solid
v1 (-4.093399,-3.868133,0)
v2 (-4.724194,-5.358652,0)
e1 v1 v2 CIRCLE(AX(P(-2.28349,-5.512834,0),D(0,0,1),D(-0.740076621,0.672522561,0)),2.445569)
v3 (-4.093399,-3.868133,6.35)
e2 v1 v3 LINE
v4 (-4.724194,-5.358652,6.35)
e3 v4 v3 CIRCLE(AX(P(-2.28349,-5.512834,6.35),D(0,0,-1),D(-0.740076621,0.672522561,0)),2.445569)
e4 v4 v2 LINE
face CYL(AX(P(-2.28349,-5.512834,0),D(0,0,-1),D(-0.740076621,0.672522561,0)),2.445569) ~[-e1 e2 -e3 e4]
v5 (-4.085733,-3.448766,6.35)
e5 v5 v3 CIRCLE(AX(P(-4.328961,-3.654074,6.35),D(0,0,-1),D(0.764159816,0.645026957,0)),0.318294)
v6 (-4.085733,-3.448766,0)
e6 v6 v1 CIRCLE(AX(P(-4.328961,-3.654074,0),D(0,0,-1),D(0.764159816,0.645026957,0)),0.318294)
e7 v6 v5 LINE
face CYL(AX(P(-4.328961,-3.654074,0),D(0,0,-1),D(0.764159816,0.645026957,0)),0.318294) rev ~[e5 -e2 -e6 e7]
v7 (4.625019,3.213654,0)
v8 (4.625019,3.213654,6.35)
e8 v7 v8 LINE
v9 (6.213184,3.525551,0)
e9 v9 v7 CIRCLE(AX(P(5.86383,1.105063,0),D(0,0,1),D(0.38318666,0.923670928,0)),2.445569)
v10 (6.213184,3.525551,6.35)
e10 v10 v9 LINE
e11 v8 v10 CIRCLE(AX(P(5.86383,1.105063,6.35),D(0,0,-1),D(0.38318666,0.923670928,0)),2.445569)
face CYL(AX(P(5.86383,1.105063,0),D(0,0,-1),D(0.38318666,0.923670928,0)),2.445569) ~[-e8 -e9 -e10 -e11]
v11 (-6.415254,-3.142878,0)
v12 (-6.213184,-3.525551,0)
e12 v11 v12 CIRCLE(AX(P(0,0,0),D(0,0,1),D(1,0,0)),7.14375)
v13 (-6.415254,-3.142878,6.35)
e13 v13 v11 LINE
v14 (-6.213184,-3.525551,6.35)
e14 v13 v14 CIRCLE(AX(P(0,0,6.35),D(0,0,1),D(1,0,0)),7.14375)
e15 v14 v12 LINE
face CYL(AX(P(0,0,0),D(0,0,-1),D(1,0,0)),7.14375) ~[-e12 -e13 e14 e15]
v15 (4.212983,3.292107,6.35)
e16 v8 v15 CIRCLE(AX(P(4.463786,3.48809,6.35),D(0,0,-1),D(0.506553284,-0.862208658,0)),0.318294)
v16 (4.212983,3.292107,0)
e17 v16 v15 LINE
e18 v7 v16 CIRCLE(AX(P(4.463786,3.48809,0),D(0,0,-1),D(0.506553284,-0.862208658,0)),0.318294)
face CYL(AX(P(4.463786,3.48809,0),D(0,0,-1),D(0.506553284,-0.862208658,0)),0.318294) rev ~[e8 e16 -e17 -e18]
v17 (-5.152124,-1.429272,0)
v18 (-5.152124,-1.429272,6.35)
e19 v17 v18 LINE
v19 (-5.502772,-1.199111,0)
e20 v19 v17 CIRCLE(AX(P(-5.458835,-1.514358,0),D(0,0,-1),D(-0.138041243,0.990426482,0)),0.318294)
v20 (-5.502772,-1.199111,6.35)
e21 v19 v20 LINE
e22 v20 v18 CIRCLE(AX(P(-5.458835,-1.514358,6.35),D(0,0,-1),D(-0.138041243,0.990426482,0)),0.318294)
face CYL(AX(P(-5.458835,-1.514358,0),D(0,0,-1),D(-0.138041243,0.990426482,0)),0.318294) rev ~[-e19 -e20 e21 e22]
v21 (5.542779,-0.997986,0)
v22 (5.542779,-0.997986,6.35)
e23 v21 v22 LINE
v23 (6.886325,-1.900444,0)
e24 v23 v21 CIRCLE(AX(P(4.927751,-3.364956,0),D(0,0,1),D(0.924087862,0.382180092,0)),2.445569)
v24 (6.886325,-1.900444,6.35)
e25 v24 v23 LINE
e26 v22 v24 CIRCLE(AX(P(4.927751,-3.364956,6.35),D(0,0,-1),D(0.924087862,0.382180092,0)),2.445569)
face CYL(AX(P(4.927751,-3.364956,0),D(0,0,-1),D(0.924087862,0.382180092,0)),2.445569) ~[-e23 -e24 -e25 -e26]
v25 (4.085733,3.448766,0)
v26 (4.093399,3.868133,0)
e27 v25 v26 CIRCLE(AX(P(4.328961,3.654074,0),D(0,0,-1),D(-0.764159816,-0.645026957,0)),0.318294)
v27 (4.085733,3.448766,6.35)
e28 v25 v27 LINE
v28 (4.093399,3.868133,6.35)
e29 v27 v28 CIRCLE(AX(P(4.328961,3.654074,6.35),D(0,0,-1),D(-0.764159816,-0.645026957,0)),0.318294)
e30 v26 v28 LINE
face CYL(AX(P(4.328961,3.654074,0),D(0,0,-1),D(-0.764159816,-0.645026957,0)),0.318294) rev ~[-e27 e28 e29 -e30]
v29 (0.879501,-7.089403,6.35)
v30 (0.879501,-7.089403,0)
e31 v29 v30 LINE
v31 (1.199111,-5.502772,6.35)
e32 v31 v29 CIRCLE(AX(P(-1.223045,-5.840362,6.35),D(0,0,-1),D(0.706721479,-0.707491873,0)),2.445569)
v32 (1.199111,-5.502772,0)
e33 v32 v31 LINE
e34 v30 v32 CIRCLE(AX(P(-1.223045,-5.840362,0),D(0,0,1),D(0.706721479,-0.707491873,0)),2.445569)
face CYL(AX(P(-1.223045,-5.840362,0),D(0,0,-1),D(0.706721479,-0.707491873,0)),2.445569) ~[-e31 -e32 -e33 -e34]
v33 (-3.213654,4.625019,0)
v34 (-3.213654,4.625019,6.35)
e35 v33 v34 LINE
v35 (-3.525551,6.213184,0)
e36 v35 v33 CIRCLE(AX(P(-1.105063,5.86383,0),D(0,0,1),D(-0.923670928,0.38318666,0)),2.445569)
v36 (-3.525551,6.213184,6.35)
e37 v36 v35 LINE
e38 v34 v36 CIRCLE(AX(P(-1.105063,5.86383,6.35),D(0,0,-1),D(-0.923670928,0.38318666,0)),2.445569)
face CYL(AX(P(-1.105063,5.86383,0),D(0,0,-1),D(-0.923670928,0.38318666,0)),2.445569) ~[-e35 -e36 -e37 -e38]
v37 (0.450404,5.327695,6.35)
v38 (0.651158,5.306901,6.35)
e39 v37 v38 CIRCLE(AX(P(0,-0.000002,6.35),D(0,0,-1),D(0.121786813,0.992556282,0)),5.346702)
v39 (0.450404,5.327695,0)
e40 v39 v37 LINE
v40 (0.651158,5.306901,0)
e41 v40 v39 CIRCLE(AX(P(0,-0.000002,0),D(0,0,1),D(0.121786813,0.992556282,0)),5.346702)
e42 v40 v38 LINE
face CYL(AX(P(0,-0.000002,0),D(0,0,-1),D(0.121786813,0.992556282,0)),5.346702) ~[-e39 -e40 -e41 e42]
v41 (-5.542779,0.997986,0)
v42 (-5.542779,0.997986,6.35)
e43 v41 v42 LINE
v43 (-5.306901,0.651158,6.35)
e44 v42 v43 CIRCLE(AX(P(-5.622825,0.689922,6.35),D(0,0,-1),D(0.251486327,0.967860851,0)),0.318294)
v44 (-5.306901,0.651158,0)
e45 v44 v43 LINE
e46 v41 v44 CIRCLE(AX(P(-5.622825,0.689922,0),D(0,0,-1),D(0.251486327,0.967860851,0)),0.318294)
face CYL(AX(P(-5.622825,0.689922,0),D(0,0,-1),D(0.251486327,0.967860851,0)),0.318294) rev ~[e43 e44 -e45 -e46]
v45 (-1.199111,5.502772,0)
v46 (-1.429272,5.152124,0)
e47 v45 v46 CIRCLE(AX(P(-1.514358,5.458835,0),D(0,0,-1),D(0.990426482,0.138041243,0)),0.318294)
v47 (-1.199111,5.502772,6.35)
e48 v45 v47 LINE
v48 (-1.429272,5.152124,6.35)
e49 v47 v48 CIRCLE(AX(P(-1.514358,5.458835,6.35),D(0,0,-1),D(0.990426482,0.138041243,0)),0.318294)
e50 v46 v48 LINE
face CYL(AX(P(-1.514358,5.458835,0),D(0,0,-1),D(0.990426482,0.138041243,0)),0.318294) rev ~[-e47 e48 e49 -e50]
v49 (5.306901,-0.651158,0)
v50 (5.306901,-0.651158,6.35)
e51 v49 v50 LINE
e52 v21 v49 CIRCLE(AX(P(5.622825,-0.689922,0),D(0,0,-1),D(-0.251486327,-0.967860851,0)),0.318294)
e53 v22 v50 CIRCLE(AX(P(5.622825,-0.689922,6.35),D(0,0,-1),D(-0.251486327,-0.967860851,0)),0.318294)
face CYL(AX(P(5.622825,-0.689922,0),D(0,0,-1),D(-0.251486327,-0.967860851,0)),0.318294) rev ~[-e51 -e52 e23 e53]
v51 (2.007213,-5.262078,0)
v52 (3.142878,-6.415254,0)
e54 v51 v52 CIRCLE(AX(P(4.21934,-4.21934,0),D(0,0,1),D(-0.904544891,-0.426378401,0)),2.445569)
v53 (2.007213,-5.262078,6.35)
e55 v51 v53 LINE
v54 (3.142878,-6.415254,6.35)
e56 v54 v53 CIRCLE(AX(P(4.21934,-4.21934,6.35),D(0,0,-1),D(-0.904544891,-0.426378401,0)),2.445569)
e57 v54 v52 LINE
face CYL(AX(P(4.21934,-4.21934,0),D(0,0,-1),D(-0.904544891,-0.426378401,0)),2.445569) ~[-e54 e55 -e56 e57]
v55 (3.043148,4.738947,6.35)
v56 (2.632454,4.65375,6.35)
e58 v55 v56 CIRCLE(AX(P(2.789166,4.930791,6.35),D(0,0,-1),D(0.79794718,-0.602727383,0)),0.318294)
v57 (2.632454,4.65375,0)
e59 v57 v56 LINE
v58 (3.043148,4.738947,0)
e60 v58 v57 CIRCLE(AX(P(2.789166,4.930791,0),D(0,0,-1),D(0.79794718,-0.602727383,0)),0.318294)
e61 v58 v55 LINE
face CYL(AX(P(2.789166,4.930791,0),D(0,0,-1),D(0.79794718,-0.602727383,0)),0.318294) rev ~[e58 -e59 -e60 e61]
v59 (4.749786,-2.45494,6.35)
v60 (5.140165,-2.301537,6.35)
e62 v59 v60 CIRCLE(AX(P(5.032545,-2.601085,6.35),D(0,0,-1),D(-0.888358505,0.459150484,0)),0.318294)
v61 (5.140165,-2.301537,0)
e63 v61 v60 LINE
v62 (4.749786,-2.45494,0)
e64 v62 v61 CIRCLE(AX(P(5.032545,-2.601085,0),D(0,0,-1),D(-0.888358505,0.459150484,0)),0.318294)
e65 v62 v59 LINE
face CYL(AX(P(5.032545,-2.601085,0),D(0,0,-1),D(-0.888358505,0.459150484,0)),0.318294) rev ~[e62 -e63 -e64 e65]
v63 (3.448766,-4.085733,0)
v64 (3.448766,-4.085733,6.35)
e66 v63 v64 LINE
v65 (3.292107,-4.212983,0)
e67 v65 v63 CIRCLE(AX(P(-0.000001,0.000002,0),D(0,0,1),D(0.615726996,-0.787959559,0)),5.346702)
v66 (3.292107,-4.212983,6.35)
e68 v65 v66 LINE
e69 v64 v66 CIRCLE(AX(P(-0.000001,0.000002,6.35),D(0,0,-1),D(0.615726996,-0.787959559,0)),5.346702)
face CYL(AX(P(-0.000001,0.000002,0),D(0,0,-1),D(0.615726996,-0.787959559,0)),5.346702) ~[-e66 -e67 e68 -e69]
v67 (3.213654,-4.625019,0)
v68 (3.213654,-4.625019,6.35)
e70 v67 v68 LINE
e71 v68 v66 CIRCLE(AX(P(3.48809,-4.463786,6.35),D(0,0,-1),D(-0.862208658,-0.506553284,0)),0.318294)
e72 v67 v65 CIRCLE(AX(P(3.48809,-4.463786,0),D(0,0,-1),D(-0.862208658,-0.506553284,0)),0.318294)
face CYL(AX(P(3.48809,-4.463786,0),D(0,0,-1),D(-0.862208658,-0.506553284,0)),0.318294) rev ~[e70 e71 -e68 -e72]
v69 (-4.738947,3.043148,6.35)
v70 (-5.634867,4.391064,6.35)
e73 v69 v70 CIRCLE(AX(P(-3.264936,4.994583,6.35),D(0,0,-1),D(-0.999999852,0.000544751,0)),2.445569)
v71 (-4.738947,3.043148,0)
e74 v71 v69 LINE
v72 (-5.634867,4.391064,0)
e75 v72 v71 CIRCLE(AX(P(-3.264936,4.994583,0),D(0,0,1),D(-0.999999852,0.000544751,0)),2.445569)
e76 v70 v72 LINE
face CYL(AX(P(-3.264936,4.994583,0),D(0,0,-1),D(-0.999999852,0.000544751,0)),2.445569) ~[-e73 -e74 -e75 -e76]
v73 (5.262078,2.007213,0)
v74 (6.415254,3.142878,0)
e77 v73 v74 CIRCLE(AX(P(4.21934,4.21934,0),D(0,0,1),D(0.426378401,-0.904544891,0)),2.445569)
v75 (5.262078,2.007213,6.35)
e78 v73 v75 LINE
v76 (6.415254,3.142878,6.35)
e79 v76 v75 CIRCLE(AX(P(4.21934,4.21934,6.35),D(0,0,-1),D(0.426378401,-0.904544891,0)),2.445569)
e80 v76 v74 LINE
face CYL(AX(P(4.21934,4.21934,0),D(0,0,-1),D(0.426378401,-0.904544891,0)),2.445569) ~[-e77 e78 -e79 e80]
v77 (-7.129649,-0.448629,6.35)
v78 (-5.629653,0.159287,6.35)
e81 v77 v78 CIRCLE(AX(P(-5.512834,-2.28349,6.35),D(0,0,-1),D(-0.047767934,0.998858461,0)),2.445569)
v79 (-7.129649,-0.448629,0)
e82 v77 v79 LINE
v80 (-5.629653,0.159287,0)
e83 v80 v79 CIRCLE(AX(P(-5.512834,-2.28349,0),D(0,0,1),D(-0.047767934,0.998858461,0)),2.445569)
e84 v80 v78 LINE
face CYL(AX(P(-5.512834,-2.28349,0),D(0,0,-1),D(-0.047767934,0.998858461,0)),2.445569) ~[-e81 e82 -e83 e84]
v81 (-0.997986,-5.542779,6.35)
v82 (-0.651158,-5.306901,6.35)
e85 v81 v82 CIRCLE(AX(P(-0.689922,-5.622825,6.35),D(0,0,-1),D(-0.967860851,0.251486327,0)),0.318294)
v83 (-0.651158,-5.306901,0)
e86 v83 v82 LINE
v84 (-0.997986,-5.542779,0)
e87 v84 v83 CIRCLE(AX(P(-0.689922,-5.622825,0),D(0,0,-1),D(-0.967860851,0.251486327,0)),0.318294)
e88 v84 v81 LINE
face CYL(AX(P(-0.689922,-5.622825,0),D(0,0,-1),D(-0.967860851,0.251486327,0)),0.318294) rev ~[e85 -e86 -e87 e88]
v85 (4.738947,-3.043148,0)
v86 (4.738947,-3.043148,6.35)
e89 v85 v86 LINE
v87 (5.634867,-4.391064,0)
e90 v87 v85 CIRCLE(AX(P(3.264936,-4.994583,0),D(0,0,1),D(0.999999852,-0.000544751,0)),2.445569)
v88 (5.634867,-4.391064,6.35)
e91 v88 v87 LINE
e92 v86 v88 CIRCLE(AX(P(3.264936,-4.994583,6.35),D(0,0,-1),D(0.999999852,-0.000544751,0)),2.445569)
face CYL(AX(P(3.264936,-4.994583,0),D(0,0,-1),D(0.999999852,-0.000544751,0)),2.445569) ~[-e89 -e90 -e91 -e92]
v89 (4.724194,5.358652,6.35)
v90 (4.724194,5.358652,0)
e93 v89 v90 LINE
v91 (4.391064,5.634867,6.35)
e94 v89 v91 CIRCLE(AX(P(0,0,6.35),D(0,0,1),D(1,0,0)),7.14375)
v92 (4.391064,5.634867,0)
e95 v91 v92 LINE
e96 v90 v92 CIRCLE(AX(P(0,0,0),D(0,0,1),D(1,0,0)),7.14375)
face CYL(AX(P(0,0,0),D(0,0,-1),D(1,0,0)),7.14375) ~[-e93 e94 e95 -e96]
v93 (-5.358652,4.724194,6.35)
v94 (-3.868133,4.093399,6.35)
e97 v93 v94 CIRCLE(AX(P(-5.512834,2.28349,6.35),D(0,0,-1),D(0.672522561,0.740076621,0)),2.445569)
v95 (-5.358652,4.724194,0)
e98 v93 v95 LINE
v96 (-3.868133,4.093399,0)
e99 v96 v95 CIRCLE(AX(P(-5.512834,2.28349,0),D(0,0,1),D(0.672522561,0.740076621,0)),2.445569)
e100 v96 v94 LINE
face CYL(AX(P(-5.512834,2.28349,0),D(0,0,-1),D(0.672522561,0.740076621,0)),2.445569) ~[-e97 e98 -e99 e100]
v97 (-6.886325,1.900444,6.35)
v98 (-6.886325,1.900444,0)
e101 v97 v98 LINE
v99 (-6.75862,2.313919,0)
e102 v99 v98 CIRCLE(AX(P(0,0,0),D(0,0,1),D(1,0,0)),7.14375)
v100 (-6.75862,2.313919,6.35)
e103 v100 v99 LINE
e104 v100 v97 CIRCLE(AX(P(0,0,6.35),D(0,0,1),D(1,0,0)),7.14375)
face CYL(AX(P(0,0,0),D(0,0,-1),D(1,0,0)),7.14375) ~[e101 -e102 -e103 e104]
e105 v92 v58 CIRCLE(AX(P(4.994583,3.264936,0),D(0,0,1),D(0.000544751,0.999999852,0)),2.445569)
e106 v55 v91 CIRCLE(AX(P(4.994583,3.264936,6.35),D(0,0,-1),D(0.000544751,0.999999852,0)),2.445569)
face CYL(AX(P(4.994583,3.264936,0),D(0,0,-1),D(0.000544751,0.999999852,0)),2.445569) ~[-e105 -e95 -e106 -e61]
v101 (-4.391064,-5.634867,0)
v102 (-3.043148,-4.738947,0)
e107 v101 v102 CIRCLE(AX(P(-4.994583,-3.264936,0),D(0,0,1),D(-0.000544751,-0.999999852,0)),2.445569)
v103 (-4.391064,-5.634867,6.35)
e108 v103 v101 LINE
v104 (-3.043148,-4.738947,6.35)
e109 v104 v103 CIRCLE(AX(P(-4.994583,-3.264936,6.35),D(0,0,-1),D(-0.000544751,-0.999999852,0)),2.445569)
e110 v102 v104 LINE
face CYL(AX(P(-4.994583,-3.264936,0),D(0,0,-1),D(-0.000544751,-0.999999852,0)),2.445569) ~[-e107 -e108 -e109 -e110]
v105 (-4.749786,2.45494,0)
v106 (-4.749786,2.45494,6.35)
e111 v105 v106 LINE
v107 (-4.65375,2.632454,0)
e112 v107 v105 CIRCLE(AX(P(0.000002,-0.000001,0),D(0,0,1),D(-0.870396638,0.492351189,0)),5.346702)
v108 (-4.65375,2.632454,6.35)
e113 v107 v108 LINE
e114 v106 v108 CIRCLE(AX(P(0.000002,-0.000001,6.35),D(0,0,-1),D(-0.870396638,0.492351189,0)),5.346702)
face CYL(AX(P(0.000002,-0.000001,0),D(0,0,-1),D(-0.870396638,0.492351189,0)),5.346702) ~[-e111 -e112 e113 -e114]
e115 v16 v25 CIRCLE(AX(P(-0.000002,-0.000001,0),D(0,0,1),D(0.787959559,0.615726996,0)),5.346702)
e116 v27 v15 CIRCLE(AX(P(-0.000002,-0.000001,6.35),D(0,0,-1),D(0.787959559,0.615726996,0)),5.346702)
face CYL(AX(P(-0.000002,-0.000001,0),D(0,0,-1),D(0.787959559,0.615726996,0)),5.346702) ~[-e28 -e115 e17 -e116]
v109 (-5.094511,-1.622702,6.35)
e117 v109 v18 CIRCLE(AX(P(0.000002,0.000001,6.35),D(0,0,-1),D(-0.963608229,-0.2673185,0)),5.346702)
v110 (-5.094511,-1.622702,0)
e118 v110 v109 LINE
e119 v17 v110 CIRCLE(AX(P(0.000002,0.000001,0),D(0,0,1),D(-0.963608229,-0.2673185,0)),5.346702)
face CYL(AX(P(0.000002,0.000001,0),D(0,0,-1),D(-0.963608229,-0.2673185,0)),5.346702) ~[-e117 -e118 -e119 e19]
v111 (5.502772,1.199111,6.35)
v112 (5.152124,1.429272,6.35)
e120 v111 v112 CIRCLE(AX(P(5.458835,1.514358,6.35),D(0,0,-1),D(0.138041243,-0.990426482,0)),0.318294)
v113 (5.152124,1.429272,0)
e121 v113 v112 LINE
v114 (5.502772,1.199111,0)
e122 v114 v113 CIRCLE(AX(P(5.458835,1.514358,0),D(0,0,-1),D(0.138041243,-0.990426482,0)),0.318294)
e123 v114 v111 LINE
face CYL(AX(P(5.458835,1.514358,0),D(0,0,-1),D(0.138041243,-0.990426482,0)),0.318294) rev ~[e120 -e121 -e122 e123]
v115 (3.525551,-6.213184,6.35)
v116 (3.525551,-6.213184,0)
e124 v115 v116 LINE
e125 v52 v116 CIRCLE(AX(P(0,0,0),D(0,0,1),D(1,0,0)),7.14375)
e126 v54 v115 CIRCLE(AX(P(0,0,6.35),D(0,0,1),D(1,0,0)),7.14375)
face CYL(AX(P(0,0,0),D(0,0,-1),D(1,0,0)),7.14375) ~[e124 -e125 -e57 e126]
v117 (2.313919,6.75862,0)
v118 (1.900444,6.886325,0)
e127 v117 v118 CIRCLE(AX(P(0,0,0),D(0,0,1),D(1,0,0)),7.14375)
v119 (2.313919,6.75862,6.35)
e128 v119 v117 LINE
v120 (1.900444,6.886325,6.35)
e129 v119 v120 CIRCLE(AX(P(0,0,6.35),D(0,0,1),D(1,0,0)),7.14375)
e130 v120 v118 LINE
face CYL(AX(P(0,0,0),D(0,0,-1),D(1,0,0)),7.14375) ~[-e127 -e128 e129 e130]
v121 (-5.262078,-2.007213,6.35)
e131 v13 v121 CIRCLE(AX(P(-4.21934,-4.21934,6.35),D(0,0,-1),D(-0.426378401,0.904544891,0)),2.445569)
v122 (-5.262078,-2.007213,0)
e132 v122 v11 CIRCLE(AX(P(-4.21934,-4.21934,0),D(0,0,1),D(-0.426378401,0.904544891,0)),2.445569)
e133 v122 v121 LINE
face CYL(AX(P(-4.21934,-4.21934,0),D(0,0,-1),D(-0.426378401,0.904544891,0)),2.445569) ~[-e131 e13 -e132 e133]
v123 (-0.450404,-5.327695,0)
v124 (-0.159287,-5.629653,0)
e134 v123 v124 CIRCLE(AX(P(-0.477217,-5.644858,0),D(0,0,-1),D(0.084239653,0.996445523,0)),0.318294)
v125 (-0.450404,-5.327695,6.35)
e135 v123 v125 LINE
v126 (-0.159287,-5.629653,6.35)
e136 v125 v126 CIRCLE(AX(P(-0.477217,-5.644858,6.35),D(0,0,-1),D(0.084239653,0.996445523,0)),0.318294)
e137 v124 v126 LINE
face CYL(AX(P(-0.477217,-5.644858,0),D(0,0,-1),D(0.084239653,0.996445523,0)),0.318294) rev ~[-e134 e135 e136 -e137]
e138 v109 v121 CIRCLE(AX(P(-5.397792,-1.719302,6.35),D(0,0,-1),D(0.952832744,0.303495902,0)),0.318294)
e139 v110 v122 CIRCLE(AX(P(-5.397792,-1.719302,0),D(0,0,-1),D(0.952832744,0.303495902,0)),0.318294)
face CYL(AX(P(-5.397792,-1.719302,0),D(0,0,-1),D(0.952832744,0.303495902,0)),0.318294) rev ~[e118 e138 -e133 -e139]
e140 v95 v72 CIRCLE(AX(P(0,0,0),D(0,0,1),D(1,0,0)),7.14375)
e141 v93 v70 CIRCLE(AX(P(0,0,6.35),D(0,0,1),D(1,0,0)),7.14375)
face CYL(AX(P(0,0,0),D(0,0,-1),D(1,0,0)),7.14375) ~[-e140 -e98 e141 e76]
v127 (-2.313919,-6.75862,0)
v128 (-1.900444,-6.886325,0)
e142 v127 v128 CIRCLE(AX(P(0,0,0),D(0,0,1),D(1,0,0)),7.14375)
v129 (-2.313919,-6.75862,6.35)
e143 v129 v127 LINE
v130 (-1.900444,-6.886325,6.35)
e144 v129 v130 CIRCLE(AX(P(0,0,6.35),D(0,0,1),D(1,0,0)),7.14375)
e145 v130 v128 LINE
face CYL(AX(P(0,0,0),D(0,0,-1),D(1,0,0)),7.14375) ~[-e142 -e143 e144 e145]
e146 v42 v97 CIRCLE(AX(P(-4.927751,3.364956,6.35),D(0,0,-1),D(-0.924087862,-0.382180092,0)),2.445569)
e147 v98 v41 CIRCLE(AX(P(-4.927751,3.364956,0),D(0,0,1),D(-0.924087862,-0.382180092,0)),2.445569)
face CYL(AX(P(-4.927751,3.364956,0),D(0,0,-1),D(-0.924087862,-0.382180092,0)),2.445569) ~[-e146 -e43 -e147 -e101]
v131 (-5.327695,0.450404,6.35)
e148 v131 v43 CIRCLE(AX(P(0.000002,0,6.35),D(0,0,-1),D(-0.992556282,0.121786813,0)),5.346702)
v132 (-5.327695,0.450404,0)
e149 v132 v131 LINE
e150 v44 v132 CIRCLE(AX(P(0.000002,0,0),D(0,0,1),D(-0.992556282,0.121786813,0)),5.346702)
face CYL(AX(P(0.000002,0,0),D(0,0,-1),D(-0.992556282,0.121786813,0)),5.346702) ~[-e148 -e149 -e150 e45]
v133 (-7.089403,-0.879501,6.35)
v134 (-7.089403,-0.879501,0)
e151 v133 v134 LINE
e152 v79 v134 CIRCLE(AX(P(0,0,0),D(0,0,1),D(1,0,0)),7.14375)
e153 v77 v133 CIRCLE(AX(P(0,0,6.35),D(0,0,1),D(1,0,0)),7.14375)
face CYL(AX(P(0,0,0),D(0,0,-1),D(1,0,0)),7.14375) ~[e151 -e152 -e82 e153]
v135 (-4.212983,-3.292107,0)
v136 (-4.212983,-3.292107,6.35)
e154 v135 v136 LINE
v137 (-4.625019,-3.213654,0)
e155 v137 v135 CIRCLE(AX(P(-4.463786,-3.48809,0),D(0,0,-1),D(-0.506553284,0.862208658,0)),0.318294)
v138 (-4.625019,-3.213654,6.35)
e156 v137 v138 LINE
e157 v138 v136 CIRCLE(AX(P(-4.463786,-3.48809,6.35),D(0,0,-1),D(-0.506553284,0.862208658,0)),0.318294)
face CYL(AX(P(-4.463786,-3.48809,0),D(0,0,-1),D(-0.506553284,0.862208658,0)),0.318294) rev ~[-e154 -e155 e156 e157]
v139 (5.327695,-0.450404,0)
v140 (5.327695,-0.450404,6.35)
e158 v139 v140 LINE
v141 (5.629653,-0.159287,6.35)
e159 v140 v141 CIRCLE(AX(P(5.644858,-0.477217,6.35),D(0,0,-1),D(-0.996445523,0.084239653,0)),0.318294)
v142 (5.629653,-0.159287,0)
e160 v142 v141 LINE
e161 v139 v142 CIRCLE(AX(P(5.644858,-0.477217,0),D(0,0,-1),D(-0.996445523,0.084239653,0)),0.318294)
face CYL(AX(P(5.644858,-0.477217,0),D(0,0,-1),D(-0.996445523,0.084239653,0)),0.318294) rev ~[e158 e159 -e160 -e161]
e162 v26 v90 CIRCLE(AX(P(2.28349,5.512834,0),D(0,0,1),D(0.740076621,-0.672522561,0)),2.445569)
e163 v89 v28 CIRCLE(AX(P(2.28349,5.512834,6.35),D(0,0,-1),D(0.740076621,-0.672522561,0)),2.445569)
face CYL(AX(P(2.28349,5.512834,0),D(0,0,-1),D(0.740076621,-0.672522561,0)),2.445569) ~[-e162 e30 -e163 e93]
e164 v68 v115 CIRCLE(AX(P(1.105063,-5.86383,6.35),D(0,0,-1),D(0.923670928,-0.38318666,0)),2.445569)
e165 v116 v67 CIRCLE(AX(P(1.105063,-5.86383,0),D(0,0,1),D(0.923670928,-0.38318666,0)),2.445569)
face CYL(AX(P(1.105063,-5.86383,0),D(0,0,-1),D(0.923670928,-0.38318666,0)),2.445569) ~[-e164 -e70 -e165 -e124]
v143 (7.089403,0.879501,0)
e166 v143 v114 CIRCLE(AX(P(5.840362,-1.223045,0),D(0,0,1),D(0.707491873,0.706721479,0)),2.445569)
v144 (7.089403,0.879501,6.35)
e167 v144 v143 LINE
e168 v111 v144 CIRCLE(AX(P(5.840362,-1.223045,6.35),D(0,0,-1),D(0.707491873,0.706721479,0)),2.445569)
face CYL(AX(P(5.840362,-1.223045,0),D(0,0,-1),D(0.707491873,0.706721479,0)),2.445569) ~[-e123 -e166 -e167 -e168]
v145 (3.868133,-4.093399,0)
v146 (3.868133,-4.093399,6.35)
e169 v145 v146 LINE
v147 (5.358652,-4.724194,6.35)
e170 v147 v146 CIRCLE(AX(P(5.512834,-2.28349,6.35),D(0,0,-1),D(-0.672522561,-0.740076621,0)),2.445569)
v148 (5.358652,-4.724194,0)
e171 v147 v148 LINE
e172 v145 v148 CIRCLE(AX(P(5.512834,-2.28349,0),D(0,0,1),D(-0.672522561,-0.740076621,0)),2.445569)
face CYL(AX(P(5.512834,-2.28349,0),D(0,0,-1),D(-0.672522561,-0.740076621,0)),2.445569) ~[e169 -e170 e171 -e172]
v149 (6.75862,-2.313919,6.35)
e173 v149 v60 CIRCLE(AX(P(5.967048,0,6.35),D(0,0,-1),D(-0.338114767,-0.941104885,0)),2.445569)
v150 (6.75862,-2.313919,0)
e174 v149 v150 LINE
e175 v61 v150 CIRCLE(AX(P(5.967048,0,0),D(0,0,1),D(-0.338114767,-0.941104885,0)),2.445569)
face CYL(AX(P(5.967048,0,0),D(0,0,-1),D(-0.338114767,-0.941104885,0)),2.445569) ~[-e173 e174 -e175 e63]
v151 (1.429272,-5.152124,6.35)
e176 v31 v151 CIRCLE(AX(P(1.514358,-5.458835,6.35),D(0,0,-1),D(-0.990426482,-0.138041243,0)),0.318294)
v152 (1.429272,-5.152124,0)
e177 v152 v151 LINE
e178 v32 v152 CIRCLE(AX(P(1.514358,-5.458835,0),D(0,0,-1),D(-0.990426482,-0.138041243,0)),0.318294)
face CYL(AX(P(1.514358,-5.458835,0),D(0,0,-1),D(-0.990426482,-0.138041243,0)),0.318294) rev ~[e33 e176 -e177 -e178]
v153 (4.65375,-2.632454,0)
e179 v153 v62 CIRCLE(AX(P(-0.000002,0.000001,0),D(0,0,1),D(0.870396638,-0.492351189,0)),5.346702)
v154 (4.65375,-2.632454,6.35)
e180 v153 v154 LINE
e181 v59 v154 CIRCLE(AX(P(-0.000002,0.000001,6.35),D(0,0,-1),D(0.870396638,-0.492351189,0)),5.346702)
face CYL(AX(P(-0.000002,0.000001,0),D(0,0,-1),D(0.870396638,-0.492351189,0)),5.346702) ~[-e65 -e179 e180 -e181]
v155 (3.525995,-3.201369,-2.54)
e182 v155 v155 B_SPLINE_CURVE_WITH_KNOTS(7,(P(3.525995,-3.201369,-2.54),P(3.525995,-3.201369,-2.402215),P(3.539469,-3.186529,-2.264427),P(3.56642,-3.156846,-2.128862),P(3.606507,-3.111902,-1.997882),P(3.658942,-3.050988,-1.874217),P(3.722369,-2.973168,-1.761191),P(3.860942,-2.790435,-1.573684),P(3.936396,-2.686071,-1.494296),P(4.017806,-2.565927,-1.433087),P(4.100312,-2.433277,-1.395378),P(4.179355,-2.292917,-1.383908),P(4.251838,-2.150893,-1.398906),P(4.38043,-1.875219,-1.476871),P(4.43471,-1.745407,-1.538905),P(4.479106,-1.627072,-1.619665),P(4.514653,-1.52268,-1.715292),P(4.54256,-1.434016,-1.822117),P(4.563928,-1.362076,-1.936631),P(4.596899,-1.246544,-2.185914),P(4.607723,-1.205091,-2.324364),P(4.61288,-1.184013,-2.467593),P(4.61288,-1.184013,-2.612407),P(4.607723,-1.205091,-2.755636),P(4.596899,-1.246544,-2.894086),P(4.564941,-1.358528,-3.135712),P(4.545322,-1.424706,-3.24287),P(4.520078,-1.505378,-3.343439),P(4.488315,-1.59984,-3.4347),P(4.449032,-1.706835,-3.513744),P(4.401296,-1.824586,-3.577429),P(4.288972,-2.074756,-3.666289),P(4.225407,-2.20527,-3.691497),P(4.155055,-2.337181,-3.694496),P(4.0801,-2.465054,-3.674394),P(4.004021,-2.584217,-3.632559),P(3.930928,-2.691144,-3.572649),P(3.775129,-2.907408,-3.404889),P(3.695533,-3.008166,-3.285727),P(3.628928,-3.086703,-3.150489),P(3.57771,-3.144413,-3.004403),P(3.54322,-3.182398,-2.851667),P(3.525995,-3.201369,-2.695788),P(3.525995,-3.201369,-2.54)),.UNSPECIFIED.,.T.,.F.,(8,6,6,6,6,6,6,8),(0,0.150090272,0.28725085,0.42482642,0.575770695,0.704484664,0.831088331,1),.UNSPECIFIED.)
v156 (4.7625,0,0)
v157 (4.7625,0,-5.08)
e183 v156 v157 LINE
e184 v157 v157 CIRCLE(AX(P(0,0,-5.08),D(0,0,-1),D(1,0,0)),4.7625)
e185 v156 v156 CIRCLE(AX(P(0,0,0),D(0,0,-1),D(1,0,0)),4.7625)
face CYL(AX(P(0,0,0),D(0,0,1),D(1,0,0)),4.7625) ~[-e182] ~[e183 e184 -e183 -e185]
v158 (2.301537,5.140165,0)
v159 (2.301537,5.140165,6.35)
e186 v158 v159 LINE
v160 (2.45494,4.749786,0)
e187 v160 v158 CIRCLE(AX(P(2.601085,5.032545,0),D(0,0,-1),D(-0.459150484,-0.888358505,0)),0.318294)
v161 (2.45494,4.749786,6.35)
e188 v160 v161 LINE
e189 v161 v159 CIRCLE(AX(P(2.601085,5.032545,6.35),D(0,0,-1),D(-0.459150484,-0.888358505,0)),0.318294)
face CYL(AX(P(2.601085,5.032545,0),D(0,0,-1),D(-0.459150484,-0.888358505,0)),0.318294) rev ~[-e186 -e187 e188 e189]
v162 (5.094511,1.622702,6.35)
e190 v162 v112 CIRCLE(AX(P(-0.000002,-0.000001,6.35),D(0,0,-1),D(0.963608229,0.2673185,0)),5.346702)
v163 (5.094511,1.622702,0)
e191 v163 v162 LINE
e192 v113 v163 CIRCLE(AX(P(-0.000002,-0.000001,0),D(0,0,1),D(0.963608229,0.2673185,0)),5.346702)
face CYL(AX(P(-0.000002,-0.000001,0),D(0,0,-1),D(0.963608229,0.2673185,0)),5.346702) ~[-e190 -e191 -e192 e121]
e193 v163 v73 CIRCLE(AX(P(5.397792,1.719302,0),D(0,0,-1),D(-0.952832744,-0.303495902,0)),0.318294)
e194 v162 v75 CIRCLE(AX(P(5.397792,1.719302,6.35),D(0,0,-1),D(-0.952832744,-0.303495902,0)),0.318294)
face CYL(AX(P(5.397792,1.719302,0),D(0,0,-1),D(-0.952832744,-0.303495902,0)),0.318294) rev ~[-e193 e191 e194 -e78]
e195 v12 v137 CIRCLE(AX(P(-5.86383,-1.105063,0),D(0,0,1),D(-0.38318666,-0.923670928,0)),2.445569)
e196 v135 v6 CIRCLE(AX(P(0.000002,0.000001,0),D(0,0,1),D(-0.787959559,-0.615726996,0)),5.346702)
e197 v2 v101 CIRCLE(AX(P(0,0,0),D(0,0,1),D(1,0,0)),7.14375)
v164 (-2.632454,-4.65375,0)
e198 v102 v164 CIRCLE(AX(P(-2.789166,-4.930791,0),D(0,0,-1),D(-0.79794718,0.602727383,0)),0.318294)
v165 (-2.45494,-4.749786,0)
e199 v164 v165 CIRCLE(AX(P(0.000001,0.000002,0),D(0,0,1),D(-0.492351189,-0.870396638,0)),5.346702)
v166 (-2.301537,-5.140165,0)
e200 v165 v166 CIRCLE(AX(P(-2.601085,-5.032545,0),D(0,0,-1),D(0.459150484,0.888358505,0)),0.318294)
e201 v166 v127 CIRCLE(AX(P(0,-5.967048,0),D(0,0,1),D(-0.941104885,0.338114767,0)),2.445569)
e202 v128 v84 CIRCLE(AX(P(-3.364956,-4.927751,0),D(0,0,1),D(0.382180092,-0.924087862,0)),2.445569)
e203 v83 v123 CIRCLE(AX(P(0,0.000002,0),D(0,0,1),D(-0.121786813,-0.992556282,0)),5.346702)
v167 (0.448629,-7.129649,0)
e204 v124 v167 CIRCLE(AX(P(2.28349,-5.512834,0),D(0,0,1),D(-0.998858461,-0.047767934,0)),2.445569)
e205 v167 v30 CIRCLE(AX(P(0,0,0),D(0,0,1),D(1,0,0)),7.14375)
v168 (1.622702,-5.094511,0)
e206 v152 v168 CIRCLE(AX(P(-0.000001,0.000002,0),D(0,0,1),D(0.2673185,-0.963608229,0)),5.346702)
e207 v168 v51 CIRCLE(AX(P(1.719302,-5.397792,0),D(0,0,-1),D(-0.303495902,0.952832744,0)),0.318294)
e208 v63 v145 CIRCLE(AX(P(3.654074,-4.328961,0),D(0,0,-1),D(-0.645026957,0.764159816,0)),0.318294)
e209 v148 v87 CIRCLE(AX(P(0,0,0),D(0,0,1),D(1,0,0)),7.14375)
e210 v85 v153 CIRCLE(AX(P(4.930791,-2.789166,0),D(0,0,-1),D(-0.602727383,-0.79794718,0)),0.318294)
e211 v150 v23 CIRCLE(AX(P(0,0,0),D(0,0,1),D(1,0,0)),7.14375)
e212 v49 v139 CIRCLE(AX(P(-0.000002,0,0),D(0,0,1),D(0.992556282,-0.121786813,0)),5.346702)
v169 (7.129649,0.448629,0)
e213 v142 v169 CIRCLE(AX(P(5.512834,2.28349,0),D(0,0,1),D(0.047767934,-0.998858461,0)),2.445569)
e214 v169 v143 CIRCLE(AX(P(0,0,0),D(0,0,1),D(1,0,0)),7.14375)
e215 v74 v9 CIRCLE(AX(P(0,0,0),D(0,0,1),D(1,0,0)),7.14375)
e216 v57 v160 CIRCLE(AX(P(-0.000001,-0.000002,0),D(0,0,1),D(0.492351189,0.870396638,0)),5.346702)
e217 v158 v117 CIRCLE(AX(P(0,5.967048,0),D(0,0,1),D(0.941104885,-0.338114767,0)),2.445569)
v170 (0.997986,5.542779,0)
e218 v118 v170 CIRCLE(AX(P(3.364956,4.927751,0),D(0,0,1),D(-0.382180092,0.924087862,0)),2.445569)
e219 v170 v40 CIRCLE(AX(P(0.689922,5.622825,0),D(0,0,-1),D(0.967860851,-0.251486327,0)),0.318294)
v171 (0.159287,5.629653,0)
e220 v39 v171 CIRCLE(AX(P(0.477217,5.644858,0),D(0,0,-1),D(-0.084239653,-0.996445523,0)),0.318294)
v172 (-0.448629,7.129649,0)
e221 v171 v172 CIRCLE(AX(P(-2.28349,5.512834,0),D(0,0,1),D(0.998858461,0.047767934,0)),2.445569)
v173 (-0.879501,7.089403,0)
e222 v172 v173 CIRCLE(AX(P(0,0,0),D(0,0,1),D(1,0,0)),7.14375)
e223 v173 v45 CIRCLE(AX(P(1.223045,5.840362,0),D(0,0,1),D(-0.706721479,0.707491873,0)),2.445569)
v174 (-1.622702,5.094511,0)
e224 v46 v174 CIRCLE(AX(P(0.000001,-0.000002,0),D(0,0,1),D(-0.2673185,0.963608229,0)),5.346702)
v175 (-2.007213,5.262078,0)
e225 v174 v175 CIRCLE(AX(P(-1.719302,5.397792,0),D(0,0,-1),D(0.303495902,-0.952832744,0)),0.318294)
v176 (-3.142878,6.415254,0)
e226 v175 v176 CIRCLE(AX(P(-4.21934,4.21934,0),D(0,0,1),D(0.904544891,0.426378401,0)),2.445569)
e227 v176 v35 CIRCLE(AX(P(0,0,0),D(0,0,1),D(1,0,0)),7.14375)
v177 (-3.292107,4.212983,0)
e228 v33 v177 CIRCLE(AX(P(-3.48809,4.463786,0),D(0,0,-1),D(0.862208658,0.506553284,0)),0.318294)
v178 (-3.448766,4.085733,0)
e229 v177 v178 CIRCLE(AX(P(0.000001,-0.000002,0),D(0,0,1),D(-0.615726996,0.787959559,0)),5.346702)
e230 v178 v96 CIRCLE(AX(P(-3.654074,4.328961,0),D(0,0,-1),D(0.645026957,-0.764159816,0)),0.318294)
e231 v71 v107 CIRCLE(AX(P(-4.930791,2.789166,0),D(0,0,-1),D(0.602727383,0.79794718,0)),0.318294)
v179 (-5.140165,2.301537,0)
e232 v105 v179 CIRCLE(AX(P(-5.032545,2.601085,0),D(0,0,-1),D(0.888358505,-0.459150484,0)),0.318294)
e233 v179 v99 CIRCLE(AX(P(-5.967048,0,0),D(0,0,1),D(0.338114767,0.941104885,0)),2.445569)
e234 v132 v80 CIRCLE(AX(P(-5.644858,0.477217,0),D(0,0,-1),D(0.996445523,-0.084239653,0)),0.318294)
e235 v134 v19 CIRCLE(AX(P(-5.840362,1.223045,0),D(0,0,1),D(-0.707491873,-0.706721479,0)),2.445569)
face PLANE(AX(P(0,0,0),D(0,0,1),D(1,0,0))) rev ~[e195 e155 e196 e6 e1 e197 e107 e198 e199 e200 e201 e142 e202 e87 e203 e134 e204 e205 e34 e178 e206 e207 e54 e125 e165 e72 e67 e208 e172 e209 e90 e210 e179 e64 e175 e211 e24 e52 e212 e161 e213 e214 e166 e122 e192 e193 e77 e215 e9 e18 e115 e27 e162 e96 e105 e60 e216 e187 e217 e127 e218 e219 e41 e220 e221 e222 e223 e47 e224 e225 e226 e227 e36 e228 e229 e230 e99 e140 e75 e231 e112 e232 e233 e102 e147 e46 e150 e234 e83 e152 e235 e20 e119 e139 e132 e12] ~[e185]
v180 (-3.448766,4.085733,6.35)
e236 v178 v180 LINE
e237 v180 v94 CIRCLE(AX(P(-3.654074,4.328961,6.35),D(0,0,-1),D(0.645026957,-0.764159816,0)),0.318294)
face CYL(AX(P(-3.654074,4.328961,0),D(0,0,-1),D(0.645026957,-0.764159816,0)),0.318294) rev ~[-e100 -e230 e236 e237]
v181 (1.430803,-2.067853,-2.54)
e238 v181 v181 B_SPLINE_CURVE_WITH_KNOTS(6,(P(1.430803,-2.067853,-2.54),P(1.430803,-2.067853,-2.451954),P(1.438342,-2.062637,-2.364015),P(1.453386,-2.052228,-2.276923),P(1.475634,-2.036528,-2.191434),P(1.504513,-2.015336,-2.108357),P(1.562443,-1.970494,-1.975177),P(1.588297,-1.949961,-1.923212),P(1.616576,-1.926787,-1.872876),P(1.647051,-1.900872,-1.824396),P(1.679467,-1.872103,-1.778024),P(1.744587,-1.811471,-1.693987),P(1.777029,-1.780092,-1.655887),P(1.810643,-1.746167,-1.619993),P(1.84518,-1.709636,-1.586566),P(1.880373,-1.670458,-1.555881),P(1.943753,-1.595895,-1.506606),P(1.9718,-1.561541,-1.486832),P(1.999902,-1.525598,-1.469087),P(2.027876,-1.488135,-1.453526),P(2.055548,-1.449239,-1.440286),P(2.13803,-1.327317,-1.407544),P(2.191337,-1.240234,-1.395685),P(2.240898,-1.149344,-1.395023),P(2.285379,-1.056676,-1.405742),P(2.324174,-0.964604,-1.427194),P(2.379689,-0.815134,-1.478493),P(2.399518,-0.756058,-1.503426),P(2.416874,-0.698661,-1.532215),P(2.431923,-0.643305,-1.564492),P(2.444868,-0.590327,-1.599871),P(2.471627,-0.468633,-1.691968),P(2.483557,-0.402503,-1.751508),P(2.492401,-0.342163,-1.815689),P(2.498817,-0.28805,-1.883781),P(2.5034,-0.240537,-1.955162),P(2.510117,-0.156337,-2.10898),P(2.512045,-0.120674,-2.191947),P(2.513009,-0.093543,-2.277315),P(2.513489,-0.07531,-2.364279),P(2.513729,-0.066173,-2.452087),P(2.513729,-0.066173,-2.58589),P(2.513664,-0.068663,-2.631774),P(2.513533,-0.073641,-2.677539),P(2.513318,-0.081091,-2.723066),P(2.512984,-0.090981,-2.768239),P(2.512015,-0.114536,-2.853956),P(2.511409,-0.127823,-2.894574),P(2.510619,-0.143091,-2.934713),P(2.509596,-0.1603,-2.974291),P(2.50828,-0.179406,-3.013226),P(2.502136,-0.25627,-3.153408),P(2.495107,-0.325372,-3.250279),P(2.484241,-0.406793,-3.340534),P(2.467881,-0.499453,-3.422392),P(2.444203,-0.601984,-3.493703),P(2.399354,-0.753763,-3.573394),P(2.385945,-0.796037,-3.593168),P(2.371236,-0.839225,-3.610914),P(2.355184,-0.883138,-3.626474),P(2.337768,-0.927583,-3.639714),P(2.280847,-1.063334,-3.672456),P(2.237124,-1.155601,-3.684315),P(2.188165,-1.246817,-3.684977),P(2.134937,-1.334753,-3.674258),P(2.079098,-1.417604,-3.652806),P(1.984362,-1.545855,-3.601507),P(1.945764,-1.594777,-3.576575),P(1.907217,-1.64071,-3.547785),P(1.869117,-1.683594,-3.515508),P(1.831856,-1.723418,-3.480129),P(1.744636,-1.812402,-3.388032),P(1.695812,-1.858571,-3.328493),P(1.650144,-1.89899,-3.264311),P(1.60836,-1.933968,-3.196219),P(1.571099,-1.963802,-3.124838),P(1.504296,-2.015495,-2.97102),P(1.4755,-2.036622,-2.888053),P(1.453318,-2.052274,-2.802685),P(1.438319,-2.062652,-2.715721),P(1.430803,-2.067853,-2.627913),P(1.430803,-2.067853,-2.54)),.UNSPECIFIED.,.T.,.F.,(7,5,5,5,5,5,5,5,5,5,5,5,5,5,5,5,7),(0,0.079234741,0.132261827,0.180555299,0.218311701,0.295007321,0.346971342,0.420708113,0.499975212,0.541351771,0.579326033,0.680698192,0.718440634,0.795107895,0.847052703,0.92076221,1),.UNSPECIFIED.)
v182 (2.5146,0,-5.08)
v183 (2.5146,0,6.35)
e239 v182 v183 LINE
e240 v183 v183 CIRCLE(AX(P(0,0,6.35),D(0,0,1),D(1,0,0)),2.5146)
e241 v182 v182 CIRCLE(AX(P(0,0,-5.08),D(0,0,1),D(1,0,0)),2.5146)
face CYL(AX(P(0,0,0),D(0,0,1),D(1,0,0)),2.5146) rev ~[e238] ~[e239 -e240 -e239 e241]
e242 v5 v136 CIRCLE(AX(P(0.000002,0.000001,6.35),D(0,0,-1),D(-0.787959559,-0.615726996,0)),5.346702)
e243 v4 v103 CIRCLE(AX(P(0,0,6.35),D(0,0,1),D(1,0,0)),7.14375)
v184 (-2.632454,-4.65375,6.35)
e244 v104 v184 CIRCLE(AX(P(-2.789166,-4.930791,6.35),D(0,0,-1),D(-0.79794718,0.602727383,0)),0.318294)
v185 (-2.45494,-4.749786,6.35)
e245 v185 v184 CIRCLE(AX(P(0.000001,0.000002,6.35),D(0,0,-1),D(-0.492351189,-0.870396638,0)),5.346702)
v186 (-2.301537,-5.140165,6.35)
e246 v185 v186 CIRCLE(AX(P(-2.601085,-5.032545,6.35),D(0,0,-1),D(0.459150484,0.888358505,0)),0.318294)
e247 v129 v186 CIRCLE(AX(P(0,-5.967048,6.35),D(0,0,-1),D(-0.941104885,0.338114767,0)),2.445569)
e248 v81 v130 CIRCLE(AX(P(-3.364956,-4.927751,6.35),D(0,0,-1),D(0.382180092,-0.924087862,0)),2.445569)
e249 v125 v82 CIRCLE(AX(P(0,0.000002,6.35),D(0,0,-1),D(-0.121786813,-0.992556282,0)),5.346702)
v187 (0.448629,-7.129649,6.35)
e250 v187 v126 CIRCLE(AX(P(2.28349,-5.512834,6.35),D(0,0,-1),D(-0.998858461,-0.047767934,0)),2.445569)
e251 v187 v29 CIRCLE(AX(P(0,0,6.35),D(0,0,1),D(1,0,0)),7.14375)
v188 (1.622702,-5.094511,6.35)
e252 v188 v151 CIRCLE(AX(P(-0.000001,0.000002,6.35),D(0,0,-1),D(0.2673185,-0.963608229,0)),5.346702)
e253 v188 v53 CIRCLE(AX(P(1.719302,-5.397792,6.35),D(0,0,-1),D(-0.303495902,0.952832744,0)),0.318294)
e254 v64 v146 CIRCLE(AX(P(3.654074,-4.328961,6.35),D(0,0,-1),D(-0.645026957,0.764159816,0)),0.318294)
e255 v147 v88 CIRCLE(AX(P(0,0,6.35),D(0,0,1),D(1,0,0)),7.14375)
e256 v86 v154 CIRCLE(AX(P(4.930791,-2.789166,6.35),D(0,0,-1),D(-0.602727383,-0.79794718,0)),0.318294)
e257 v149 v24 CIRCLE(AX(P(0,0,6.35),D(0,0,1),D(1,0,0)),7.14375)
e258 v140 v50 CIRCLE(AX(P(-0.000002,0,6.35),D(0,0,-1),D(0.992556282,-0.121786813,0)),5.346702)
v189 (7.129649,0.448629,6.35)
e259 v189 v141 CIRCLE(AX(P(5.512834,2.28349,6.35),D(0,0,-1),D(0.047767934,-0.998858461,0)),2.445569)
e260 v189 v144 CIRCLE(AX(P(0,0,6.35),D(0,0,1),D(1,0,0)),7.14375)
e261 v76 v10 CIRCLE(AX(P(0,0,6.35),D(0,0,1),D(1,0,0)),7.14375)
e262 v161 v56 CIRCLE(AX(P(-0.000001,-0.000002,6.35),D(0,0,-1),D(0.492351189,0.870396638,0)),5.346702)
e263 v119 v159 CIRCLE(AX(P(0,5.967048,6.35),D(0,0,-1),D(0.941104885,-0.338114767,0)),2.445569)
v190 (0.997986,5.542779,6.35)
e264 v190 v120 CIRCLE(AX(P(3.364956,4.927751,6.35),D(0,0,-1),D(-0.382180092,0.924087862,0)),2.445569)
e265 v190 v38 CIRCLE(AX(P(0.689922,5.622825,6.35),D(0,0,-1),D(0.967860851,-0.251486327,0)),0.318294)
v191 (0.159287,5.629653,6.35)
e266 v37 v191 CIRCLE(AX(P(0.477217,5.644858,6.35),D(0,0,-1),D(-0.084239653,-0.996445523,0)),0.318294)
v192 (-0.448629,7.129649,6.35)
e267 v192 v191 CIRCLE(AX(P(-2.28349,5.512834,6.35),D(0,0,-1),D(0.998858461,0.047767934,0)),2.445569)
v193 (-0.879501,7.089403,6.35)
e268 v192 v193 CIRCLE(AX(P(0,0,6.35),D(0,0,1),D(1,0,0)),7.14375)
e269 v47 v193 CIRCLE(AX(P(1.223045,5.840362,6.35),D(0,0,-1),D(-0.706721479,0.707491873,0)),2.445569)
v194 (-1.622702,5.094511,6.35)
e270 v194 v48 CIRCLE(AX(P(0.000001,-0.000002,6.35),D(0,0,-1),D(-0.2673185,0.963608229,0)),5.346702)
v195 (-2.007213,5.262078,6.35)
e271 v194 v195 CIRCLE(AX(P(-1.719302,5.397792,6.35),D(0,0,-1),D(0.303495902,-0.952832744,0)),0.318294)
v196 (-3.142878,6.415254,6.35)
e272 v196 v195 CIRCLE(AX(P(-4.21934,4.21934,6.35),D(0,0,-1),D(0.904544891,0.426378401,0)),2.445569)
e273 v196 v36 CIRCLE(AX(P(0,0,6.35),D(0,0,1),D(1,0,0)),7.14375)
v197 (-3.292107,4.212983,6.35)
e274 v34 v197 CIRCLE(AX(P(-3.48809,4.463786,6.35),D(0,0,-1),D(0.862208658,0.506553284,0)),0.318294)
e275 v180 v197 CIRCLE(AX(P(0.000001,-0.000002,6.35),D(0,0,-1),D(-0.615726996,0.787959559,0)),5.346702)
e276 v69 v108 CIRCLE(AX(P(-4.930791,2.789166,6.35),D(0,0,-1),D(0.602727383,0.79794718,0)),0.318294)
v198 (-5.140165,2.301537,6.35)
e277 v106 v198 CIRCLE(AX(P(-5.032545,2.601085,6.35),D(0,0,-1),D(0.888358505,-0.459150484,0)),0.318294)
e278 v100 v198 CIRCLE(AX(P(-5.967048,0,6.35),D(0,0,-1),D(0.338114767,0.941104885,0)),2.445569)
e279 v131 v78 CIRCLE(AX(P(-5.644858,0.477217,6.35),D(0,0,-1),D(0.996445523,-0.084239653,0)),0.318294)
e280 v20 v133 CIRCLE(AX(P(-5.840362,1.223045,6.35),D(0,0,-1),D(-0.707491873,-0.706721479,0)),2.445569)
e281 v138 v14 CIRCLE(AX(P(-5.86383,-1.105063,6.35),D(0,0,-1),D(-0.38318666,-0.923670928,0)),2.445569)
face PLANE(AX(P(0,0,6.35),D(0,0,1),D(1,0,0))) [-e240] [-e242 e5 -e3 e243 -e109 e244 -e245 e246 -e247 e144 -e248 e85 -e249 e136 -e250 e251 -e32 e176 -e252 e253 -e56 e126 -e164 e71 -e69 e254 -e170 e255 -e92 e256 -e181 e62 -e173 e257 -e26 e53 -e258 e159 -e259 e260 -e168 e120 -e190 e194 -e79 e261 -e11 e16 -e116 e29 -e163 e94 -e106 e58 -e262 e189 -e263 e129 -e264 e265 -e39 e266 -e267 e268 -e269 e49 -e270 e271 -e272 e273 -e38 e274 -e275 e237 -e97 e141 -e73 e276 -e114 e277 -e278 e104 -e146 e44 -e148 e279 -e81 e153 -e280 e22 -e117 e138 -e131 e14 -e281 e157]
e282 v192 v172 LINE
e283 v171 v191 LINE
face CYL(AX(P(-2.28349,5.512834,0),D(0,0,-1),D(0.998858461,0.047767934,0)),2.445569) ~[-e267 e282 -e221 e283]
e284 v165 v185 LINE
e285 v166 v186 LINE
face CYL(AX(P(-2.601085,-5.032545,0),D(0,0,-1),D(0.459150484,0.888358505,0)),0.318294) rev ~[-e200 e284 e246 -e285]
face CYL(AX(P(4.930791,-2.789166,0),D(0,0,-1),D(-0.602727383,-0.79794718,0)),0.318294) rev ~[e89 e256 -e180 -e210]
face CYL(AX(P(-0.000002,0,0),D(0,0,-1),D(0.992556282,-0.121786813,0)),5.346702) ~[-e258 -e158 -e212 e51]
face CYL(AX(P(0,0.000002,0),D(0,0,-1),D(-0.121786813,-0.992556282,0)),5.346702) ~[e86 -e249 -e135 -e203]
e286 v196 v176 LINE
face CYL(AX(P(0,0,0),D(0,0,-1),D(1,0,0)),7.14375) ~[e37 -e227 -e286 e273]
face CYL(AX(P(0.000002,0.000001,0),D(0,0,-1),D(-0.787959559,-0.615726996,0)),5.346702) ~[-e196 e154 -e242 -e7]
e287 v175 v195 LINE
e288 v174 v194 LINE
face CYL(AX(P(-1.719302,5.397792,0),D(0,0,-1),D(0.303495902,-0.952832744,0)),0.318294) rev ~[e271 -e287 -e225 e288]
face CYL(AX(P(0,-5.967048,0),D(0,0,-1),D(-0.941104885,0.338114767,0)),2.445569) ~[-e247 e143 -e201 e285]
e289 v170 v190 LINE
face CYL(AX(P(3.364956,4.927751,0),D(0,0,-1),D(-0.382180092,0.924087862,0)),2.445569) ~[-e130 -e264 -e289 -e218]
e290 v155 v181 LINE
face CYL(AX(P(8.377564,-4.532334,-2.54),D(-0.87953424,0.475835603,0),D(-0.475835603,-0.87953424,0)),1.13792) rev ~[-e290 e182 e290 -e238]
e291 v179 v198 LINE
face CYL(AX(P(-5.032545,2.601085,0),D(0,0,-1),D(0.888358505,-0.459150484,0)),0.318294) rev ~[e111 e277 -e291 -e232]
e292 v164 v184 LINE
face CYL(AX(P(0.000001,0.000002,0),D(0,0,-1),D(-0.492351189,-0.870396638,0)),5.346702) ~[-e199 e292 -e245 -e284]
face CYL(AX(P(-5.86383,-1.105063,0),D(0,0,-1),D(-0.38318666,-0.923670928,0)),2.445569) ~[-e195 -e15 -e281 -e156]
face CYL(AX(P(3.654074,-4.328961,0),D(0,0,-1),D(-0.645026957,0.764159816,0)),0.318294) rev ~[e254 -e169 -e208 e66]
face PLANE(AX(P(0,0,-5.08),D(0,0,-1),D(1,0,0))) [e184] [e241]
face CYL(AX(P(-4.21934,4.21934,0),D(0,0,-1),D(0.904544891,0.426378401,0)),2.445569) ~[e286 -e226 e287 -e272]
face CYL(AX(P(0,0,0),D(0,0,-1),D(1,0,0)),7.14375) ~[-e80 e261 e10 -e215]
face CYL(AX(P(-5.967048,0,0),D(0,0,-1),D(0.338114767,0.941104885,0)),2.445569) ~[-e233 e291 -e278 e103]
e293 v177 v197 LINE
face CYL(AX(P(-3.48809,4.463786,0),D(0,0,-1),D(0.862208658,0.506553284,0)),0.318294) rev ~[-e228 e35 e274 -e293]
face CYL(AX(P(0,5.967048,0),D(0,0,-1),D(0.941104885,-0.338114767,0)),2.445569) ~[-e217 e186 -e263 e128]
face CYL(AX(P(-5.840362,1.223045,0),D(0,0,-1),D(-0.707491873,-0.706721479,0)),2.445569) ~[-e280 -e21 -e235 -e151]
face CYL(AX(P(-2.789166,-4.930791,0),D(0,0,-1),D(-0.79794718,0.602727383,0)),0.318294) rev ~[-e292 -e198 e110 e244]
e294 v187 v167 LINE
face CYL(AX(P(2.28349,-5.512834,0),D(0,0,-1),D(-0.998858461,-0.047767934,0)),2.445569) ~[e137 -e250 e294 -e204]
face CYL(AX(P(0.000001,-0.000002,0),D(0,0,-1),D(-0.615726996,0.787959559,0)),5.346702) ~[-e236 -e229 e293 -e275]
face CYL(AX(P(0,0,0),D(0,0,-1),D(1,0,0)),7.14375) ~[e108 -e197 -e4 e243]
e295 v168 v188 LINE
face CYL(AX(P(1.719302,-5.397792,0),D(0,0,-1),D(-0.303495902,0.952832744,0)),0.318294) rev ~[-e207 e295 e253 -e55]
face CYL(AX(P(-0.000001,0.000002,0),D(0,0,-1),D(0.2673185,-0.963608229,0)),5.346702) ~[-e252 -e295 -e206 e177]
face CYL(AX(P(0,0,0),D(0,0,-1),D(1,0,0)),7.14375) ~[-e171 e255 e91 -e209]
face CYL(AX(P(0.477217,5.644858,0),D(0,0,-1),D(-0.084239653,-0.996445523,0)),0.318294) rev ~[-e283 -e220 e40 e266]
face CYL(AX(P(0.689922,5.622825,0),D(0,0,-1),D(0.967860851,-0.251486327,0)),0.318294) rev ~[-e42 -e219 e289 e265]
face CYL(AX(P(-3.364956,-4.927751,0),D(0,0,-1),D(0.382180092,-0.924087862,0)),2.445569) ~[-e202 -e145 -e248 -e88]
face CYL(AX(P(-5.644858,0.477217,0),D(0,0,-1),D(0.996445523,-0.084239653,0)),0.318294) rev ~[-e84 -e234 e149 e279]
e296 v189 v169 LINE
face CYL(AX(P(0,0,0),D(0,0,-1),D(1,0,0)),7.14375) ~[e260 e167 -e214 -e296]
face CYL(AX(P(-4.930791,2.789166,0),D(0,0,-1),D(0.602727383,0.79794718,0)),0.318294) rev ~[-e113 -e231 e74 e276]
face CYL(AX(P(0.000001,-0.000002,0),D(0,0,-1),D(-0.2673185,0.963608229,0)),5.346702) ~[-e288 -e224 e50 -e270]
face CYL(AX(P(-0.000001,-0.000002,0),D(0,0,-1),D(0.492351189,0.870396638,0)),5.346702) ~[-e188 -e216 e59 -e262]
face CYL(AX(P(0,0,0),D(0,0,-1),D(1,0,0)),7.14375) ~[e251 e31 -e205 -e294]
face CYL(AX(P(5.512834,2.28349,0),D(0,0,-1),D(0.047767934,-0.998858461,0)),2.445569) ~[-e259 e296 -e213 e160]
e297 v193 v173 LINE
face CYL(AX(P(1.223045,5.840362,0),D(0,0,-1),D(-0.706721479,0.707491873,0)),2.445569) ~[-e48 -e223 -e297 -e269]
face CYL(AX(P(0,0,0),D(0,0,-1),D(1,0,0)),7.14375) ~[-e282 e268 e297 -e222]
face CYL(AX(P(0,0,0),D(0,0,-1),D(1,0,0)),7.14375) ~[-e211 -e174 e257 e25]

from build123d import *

# Parameters (mm, degrees)
SKETCH3_R         = 7.14375
GEARBODY_DEPTH    = 6.35
TOOTHCUT_DEPTH    = 12.932679
CIRPATTERN1_COUNT = 16
HUB1DIA_R         = 4.7625
HUB1_DEPTH        = 5.080000076
BOREDIA_R         = 2.514599986
BORE_DEPTH        = 12700
SS1HUB1_D         = 2.27584
SS1HUB1_DEPTH     = 4.7625
SS1HUB1_TIP       = 0.683731316


with BuildPart() as part:
    # Sketch3 → gearBody (new body)
    with BuildSketch(Plane.XY):
        Circle(SKETCH3_R)
    extrude(amount=GEARBODY_DEPTH)

    # Sketch2 → toothCut (cut, through all)
    with BuildSketch(Plane.XY):
        with BuildLine():
            ThreePointArc((5.306900665, -0.651157603), (5.318245312, -0.550879014), (5.327695278, -0.450404168))
            ThreePointArc((5.327695278, -0.450404168), (5.423940856, -0.248073769), (5.629653426, -0.159286719))
            ThreePointArc((5.629653426, -0.159286719), (6.706703242, 0.149132804), (7.533202253, 0.905478157))
            ThreePointArc((7.533202253, 0.905478157), (7.547045935, -0.781744537), (7.187671981, -2.430308285))
            ThreePointArc((7.187671981, -2.430308285), (6.533745871, -1.520616276), (5.542778599, -0.997985647))
            ThreePointArc((5.542778599, -0.997985647), (5.359631891, -0.868919444), (5.306900665, -0.651157603))
        make_face()
    toothcut = extrude(amount=TOOTHCUT_DEPTH, mode=Mode.SUBTRACT)

    # CirPattern1: toothCut ×16 about axis
    cirpattern1_axis = Axis((0, 0, 6.35), (0, 0, -1))
    for i in range(1, CIRPATTERN1_COUNT):
        add(toothcut.rotate(cirpattern1_axis, i * 360 / CIRPATTERN1_COUNT), mode=Mode.SUBTRACT)

    # hub1Dia → hub1 (add)
    with BuildSketch(Plane(origin=(0, 0, 0), x_dir=(-1, 0, 0), z_dir=(0, 0, -1))):
        Circle(HUB1DIA_R)
    extrude(amount=HUB1_DEPTH)

    # boreDia → bore (cut, symmetric)
    with BuildSketch(Plane.XY):
        Circle(BOREDIA_R)
    extrude(amount=BORE_DEPTH, both=True, mode=Mode.SUBTRACT)

    # ss1Hub1
    with Locations(Plane(origin=(4.188781818, -2.266167057, -2.540000038), x_dir=(0.475835602514, 0.879534240027, 0), z_dir=(0.879534240027, -0.475835602514, 0))):
        with Locations((0, 0)):
            Hole(SS1HUB1_D / 2, depth=SS1HUB1_DEPTH)
            with Locations((0, 0, -(SS1HUB1_DEPTH + SS1HUB1_TIP / 2))):  # 118° drill point
                Cone(0, SS1HUB1_D / 2, SS1HUB1_TIP, mode=Mode.SUBTRACT)


solid = part.part
